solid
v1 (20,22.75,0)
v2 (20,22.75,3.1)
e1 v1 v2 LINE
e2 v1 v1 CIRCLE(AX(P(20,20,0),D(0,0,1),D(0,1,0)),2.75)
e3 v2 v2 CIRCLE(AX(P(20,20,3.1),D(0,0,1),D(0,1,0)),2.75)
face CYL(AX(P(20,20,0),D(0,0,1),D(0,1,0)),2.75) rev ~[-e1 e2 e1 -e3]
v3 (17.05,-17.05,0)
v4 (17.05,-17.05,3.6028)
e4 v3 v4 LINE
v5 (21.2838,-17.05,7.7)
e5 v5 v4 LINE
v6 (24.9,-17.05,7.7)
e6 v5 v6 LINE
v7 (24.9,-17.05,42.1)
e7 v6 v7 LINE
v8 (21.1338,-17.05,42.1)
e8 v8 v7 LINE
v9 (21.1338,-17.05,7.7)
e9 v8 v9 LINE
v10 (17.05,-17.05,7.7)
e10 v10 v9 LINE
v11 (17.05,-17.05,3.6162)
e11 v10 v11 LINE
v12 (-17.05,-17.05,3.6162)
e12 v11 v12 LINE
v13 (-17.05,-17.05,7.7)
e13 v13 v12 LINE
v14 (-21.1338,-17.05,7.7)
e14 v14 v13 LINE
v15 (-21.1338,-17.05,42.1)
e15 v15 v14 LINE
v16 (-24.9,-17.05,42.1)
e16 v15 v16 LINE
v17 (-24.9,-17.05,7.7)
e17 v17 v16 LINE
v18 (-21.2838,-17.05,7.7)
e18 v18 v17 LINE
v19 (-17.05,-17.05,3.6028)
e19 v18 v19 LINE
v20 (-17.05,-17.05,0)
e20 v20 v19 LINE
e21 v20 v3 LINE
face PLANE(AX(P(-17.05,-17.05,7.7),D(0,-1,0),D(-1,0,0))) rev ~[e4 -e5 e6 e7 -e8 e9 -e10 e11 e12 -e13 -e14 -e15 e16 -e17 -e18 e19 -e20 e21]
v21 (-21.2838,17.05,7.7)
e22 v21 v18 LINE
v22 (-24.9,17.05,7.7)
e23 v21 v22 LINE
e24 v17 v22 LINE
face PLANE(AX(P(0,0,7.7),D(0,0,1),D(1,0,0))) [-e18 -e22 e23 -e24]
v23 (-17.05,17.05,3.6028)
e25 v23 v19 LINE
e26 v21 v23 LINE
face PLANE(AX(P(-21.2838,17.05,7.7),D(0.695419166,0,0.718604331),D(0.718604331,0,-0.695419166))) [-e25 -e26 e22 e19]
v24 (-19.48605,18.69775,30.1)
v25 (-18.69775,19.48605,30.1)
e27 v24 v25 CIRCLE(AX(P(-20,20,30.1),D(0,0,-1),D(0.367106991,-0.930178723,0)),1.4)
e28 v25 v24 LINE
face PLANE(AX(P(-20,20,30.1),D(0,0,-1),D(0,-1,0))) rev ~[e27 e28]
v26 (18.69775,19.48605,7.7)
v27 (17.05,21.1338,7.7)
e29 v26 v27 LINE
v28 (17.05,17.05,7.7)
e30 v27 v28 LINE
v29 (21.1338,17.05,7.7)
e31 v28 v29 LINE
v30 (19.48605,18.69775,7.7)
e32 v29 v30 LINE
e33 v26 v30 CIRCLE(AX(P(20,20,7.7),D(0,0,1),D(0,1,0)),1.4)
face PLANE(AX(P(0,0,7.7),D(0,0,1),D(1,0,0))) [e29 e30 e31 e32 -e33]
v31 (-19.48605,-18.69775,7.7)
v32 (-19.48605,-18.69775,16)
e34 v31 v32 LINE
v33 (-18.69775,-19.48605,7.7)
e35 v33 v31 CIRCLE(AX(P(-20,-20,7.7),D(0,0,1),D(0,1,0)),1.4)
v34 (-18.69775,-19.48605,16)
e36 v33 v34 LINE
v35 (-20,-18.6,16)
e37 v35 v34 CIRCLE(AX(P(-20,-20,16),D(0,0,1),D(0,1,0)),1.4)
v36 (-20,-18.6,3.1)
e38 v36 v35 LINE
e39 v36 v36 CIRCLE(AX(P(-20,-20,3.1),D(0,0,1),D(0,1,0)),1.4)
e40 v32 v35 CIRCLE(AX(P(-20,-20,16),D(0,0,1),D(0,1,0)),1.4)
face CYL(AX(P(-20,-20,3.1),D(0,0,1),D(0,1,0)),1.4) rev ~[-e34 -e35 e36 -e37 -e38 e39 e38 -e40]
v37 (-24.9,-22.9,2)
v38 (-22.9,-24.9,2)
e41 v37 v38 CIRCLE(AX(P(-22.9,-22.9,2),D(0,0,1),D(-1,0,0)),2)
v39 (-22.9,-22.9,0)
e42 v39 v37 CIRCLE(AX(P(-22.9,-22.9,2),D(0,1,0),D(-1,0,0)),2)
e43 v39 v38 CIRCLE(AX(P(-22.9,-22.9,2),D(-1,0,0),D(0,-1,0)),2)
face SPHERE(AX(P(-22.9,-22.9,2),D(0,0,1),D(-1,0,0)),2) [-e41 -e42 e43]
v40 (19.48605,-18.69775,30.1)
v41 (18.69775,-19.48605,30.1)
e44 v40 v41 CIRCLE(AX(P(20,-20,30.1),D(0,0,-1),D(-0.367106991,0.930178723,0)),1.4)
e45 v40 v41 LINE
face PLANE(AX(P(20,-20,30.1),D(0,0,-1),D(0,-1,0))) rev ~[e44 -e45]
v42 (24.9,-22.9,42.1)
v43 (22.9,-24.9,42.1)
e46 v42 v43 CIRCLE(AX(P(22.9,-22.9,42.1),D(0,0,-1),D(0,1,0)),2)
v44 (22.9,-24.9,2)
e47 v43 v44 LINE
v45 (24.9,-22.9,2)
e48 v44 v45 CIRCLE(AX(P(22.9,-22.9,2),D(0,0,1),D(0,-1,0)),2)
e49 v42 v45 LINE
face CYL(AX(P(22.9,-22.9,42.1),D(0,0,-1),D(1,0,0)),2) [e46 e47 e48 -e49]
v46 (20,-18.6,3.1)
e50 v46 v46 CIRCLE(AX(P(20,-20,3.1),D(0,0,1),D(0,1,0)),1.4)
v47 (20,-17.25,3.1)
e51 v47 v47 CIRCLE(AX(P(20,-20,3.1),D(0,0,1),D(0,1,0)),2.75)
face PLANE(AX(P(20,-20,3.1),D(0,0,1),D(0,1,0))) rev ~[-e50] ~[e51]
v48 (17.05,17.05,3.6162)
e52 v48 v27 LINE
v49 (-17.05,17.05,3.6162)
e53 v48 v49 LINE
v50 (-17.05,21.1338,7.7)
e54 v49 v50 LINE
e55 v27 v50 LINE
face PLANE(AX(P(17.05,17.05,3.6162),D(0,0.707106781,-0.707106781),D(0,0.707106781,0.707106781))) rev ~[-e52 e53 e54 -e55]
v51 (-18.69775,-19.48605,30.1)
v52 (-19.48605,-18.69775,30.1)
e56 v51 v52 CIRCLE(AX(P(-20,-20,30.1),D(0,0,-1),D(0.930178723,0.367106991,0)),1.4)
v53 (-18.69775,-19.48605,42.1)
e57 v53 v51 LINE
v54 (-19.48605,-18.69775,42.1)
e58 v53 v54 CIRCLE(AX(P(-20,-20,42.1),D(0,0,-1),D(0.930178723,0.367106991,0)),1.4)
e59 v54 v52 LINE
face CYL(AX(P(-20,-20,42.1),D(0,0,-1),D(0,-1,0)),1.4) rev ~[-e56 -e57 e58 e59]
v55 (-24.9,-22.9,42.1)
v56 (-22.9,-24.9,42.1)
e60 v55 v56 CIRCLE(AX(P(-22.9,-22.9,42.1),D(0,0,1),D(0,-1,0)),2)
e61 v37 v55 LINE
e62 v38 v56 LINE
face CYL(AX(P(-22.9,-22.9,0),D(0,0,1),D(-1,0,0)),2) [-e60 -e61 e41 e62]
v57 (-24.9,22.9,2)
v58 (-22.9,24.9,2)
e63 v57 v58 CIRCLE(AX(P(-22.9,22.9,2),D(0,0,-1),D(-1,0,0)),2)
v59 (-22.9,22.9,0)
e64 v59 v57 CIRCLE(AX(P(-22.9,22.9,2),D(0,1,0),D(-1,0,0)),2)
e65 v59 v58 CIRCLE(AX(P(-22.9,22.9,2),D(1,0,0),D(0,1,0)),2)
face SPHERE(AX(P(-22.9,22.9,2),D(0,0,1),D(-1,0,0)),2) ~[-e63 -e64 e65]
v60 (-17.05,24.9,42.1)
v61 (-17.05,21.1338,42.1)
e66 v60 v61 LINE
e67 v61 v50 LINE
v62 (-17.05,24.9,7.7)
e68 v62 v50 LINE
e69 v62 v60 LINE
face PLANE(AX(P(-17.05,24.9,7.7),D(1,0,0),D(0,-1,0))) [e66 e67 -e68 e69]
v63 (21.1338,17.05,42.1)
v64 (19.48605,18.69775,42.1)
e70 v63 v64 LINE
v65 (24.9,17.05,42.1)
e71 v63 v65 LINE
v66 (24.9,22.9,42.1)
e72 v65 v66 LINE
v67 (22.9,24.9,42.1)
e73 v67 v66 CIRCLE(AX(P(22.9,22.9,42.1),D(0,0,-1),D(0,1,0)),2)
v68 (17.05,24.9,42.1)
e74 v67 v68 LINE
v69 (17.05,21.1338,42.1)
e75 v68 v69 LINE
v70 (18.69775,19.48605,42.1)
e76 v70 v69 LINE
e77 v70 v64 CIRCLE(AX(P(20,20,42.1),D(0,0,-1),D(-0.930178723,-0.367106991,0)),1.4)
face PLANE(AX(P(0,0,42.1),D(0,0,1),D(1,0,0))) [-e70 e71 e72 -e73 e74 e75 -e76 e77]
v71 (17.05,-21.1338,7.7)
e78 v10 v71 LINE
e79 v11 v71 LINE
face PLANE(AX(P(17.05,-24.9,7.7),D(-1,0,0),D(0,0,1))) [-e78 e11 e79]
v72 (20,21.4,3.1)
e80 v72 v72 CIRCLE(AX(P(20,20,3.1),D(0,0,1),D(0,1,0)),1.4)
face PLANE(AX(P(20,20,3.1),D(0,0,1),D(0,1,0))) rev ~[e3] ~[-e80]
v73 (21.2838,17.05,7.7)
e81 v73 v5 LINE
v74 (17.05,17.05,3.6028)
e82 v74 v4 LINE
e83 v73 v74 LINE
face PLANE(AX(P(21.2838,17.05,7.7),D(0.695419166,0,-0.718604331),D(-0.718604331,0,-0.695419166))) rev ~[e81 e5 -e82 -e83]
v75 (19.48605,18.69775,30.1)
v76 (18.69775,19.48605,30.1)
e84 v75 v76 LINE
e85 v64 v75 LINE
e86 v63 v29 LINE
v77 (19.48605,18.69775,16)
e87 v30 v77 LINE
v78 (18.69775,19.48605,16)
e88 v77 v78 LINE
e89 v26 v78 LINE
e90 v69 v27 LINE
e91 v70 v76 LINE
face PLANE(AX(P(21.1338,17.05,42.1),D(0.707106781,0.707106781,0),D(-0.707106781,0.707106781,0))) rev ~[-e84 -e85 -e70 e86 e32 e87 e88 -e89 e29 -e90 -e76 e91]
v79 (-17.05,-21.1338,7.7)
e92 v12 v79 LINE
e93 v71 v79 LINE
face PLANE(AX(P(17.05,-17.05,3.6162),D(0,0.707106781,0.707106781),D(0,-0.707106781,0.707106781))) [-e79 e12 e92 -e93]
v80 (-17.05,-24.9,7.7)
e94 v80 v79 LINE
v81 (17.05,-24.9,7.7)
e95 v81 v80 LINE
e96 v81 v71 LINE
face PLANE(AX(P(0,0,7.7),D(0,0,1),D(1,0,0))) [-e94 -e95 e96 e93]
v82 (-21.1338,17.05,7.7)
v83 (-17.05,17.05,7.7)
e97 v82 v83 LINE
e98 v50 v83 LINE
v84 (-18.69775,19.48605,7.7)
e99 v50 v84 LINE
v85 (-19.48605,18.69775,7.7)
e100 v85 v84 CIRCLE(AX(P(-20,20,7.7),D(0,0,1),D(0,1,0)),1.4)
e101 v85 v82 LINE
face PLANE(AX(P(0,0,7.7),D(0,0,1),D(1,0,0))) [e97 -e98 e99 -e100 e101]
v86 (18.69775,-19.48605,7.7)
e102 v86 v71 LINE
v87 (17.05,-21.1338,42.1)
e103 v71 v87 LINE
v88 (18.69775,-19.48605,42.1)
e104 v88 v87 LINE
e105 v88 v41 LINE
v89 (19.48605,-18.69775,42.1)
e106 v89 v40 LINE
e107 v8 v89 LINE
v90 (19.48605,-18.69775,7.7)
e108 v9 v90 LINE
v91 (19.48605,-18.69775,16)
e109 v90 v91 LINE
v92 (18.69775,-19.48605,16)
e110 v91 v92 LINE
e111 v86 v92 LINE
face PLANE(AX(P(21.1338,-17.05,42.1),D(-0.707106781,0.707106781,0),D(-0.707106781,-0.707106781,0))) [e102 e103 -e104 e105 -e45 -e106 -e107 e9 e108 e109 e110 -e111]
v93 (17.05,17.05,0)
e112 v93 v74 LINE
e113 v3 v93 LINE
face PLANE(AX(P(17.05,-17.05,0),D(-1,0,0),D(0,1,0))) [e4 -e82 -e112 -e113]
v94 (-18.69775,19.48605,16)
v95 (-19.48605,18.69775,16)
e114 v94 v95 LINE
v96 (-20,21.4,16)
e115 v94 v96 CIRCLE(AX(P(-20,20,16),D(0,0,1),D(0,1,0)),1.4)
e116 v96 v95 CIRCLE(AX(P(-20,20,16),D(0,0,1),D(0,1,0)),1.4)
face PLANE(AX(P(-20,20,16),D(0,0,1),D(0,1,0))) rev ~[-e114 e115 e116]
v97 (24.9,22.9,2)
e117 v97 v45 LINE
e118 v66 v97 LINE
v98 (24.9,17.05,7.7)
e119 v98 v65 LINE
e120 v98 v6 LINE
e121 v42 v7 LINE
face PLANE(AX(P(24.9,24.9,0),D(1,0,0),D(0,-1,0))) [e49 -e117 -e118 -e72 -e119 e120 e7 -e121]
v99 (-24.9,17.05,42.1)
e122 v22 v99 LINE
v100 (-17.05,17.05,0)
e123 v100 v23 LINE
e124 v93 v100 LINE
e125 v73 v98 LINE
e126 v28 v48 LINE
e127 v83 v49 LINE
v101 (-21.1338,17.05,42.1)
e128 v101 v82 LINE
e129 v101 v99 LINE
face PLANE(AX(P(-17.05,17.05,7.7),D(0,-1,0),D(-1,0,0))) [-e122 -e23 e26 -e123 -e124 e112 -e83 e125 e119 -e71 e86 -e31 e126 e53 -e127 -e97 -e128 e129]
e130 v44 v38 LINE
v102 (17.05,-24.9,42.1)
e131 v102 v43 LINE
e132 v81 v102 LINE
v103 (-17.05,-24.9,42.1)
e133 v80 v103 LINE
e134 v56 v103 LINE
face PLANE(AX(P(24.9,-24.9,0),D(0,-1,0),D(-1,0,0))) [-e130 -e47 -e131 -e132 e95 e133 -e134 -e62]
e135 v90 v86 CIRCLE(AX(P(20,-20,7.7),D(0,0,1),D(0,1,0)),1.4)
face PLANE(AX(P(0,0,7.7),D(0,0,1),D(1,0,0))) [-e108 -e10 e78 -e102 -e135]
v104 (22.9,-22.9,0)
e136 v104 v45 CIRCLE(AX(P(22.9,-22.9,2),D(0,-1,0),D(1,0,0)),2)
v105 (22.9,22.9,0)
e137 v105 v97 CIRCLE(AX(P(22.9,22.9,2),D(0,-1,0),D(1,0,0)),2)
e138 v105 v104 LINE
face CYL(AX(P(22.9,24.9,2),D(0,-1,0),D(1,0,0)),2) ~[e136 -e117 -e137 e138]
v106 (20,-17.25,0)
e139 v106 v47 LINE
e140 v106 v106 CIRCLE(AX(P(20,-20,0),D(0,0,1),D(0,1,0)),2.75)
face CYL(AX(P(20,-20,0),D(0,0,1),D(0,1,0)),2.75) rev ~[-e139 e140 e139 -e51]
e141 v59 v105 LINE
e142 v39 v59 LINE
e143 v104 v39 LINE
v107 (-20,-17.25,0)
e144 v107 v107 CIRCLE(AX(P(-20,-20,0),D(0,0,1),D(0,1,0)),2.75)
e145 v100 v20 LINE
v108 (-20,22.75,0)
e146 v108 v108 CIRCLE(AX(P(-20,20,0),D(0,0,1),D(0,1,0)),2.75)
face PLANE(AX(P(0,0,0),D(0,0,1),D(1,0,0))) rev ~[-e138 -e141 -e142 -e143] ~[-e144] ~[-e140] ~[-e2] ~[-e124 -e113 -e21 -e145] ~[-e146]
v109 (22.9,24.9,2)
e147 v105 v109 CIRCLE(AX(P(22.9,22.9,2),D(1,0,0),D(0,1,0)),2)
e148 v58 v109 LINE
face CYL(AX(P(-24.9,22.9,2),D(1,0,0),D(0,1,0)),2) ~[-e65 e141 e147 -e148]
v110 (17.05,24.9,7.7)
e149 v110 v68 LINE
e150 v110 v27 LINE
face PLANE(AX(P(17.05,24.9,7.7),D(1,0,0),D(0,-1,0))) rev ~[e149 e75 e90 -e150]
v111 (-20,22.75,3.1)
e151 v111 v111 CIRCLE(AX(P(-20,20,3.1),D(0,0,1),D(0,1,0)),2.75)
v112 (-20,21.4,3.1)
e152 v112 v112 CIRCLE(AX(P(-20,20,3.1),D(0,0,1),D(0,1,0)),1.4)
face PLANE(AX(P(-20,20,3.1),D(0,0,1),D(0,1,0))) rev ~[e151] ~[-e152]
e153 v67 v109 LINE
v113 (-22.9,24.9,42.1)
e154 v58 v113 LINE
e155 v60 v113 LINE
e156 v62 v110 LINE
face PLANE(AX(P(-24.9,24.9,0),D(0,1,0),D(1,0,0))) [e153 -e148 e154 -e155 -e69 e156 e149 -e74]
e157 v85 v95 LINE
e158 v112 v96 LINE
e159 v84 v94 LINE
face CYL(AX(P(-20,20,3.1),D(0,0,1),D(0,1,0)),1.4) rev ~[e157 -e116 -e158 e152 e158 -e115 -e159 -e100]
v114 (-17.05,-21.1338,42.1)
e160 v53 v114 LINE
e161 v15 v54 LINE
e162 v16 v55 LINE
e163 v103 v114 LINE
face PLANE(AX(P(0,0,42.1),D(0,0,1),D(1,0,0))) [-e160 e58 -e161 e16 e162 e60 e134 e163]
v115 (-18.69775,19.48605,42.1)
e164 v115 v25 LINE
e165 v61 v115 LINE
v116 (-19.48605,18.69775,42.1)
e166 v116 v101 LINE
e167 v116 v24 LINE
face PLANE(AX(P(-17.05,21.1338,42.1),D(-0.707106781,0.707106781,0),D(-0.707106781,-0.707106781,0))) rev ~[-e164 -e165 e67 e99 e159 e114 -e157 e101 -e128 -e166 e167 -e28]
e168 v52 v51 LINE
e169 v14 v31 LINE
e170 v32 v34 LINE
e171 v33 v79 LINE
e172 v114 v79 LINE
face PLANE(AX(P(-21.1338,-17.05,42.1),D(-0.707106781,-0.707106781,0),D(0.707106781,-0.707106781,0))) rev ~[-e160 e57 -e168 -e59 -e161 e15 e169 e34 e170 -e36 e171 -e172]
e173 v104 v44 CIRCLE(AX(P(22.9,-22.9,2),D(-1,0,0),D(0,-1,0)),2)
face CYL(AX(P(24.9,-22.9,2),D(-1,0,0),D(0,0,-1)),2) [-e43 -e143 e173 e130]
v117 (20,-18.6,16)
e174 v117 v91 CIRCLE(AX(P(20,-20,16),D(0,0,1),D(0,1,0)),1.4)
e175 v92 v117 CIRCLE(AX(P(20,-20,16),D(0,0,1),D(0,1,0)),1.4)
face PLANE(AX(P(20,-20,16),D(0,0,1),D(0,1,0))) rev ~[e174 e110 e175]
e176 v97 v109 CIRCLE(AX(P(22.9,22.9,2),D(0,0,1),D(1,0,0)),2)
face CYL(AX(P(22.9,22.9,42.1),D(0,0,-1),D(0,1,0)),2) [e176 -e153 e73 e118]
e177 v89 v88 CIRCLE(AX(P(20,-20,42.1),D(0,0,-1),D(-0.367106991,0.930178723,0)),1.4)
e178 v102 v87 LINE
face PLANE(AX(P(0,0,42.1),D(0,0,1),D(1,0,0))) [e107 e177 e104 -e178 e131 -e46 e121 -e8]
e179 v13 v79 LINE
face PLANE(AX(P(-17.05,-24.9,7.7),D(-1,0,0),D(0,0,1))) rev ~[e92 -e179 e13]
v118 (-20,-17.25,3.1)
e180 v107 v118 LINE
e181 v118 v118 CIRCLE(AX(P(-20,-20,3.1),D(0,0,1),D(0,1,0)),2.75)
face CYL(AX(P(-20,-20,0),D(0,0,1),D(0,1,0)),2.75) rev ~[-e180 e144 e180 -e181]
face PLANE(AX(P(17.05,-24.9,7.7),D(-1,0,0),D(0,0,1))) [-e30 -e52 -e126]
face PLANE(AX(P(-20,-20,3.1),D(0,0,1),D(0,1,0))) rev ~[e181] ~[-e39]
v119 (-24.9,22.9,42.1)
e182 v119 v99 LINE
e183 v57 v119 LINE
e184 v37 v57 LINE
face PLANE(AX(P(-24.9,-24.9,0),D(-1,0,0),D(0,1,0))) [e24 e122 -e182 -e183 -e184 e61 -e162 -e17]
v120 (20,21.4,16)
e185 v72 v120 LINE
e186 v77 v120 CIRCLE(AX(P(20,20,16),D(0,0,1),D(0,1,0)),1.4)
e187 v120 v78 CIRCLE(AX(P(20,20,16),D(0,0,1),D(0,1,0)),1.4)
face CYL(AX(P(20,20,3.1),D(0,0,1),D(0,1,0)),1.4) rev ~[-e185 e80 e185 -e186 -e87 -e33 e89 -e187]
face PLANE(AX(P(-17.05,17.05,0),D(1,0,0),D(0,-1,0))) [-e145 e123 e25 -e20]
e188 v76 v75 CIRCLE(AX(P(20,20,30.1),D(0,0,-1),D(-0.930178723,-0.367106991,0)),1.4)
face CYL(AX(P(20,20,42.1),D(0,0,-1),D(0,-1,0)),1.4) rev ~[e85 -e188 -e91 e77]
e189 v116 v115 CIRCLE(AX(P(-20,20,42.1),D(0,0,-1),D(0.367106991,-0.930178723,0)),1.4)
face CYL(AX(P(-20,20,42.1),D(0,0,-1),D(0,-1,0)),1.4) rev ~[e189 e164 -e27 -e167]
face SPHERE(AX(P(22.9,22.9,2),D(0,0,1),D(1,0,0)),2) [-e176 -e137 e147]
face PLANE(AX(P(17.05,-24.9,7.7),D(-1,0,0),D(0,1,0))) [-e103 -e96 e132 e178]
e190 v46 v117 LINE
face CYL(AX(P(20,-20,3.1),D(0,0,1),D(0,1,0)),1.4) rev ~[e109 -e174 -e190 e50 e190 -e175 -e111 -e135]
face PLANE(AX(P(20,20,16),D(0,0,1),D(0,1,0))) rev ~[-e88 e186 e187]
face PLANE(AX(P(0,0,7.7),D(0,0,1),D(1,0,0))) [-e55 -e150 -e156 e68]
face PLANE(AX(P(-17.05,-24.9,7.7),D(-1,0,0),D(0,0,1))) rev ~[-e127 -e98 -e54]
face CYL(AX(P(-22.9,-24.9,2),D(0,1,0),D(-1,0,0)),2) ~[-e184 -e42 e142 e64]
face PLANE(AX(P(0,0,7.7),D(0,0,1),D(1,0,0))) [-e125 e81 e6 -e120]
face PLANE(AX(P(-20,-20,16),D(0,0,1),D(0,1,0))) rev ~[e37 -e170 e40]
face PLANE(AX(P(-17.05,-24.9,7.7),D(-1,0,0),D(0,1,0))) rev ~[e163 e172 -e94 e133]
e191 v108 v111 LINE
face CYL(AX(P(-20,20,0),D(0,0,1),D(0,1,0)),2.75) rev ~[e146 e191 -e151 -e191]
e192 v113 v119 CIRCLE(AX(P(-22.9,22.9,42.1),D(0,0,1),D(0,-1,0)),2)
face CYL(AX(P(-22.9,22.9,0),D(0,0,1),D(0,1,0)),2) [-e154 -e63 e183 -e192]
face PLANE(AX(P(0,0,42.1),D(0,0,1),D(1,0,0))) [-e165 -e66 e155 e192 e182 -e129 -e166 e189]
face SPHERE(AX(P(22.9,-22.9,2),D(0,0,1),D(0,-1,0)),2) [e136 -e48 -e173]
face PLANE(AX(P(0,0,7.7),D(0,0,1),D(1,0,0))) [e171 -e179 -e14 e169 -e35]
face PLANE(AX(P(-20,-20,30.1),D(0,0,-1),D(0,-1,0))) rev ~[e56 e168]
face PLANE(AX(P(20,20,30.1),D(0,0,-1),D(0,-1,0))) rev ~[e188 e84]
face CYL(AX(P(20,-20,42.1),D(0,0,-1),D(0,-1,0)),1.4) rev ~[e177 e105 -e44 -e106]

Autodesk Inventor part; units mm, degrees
ref_plane "YZ Plane" through (0, 0, 0) normal (1, 0, 0) x (0, 1, 0)
ref_plane "XZ Plane" through (0, 0, 0) normal (0, 1, 0) x (-1, 0, 0)
ref_plane "XY Plane" through (0, 0, 0) normal (0, 0, 1) x (1, 0, 0)
sketch "Sketch1" plane through (0, 0, 0) normal (0, 0, 1) x (1, 0, 0)
  line L0 (-24.9, 24.9) -> (24.9, 24.9)
  line L1 (24.9, 24.9) -> (24.9, -24.9)
  line L2 (24.9, -24.9) -> (-24.9, -24.9)
  line L3 (-24.9, -24.9) -> (-24.9, 24.9)
  line L4 (-24.9, 24.9) -> (24.9, -24.9) construction
  line L5 (24.9, 24.9) -> (-24.9, -24.9) construction
  line L6 (17.05, 17.05) -> (-17.05, 17.05)
  line L7 (-17.05, 17.05) -> (-17.05, -17.05)
  line L8 (-17.05, -17.05) -> (17.05, -17.05)
  line L9 (17.05, -17.05) -> (17.05, 17.05)
  point P0 (0, 0)
  dimension "d0" = 49.8
  dimension "d1" = 49.8
  dimension "d2" = 7.85
extrude "Extrusion1" add sketch "Sketch1" along normal blind 7.7
sketch "Sketch2" plane through (0, 0, 7.7) normal (0, 0, 1) x (1, 0, 0)
  line L0 (17.05, 17.05) -> (17.05, -17.05) projected
  line L1 (17.05, -17.05) -> (-17.05, -17.05) projected
  line L2 (-17.05, -17.05) -> (-17.05, 17.05) projected
  line L3 (-17.05, 17.05) -> (17.05, 17.05) projected
  line L4 (24.9, 24.9) -> (-24.9, 24.9) projected
  line L5 (-24.9, 24.9) -> (-24.9, -24.9) projected
  line L6 (-24.9, -24.9) -> (24.9, -24.9) projected
  line L7 (24.9, -24.9) -> (24.9, 24.9) projected
  line L8 (17.05, -17.05) -> (24.9, -17.05)
  line L9 (24.9, -17.05) -> (24.9, -24.9)
  line L10 (24.9, -24.9) -> (17.05, -24.9)
  line L11 (17.05, -24.9) -> (17.05, -17.05)
  line L12 (17.05, 17.05) -> (-17.05, 17.05) projected
  line L13 (24.9, 24.9) -> (17.05, 24.9)
  line L14 (17.05, 24.9) -> (17.05, 17.05)
  line L15 (17.05, 17.05) -> (24.9, 17.05)
  line L16 (24.9, 17.05) -> (24.9, 24.9)
  line L17 (-24.9, -24.9) -> (-17.05, -24.9)
  line L18 (-17.05, -24.9) -> (-17.05, -17.05)
  line L19 (-17.05, -17.05) -> (-24.9, -17.05)
  line L20 (-24.9, -17.05) -> (-24.9, -24.9)
  line L21 (-24.9, 24.9) -> (-17.05, 24.9)
  line L22 (-17.05, 24.9) -> (-17.05, 17.05)
  line L23 (-17.05, 17.05) -> (-24.9, 17.05)
  line L24 (-24.9, 17.05) -> (-24.9, 24.9)
  point P0 (0, 0)
extrude "Extrusion2" add sketch "Sketch2" along normal blind 34.4 contours L14 L4 L7 L15 | L8 L7 L6 L11 | L23 L5 L4 L22 | L18 L6 L5 L19
sketch "Sketch3" plane through (0, 0, 0) normal (0, 0, -1) x (-1, 0, 0)
  line L0 (24.9, -24.9) -> (24.9, 24.9) construction
  line L1 (24.9, 24.9) -> (-24.9, 24.9) construction
  line L2 (-24.9, -24.9) -> (24.9, -24.9) construction
  line L3 (-24.9, 24.9) -> (-24.9, -24.9) construction
  point P0 (20, 20)
  point P1 (20, -20)
  point P2 (-20, -20)
  point P3 (-20, 20)
  dimension "d_1" = 4.9
  dimension "d96" = 4.9
  dimension "d97" = 4.9
  dimension "d98" = 4.9
  dimension "d99" = 4.9
  dimension "d100" = 4.9
  dimension "d101" = 4.9
  dimension "d102" = 4.9
hole "Hole1" at (-20, 20, 0) at (-20, -20, 0) at (20, -20, 0) at (20, 20, 0) direction (0, 0, 1) diameter 2.8 depth 16 counterbore diameter 5.5 counterbore depth 3.1
fillet "Fillet1" radius 2 8 edges at (24.9, 24.9, 21.05) (24.9, -24.9, 21.05) (-24.9, -24.9, 21.05) (-24.9, 24.9, 21.05) (-24.9, 0, 0) (0, -24.9, 0) (24.9, 0, 0) (0, 24.9, 0)
sketch "Sketch6" plane through (0, 0, 42.1) normal (0, 0, 1) x (1, 0, 0)
  arc A0 (-22.9, 24.9) -> (-24.9, 22.9) centre (-22.9, 22.9) ccw projected
  line L0 (-24.9, 22.9) -> (-24.9, 17.05) projected
  line L1 (-24.9, 17.05) -> (-17.05, 17.05) projected
  line L2 (-17.05, 17.05) -> (-17.05, 24.9) projected
  line L3 (-17.05, 24.9) -> (-22.9, 24.9) projected
  arc A1 (24.9, 22.9) -> (22.9, 24.9) centre (22.9, 22.9) ccw projected
  line L4 (22.9, 24.9) -> (17.05, 24.9) projected
  line L5 (17.05, 24.9) -> (17.05, 17.05) projected
  line L6 (17.05, 17.05) -> (24.9, 17.05) projected
  line L7 (24.9, 17.05) -> (24.9, 22.9) projected
  arc A2 (22.9, -24.9) -> (24.9, -22.9) centre (22.9, -22.9) ccw projected
  line L8 (24.9, -22.9) -> (24.9, -17.05) projected
  line L9 (24.9, -17.05) -> (17.05, -17.05) projected
  line L10 (17.05, -17.05) -> (17.05, -24.9) projected
  line L11 (17.05, -24.9) -> (22.9, -24.9) projected
  arc A3 (-24.9, -22.9) -> (-22.9, -24.9) centre (-22.9, -22.9) ccw projected
  line L12 (-22.9, -24.9) -> (-17.05, -24.9) projected
  line L13 (-17.05, -24.9) -> (-17.05, -17.05) projected
  line L14 (-17.05, -17.05) -> (-24.9, -17.05) projected
  line L15 (-24.9, -17.05) -> (-24.9, -22.9) projected
  line L16 (0, 38.1838) -> (54, 38.1838) construction
  line L17 (21.1338, 17.05) -> (17.05, 21.1338)
  line L18 (17.05, 24.9) -> (17.05, 17.05) projected
  line L19 (17.05, 21.1338) -> (17.05, 17.05)
  line L20 (17.05, 17.05) -> (21.1338, 17.05)
  line L21 (-17.05, 24.9) -> (-17.05, 17.05) projected
  line L22 (-17.05, 17.05) -> (-17.05, 21.1338)
  line L23 (-17.05, 21.1338) -> (-21.1338, 17.05)
  line L24 (-17.05, 21.1338) -> (-11.2747, 21.1338) construction
  line L25 (-17.05, -17.05) -> (-17.05, 17.05) projected
  line L26 (-21.1338, 17.05) -> (-17.05, 17.05)
  line L27 (-17.05, 17.05) -> (-21.1338, 17.05)
  line L28 (17.05, -17.05) -> (17.05, -24.9) projected
  line L29 (17.05, -17.05) -> (21.1338, -17.05)
  line L30 (24.9, -17.05) -> (17.05, -17.05) projected
  line L31 (21.1338, -17.05) -> (17.05, -21.1338)
  line L32 (17.05, -17.05) -> (17.05, -21.1338)
  line L33 (-17.05, -17.05) -> (-21.1338, -17.05)
  line L34 (-17.05, -17.05) -> (-17.05, -24.9) projected
  line L35 (-17.05, -17.05) -> (-17.05, -21.1338)
  line L36 (-21.1338, -17.05) -> (-17.05, -21.1338)
  line L37 (22.9, 22.9) -> (24.9, 22.9) construction
  line L38 (-22.9, -22.9) -> (22.9, 22.9) construction
  line L39 (-22.9, -22.9) -> (22.9, -22.9) construction
  line L40 (22.9, 22.9) -> (-22.9, 22.9) construction
  line L41 (22.9, -22.9) -> (-22.9, 22.9) construction
  dimension "d111" = 0
  dimension "d120" = 54
  dimension "d121" = 54
extrude "Extrusion3" cut sketch "Sketch6" against normal up to surface (34.4 mm away) contours L13 L36 L14 | L2 L1 L23 | L6 L5 L17 | L10 L9 L31
sketch "Sketch7" plane through (-24.9, 17.05, 7.7) normal (0, -1, 0) x (1, 0, 0)
  line L0 (41.95, 0) -> (49.95, 0) construction
  line L1 (41.95, -7.7) -> (41.95, 0) construction
  line L2 (7.85, -7.7) -> (7.85, 0) construction
  line L3 (-0.15, 0) -> (7.85, 0) construction
  line L4 (41.9235, 33.7204) -> (41.95, 0) construction
  line L5 (7.85, 0) -> (7.8764, 33.5861) construction
  line L6 (41.95, 0) -> (7.85, 0) construction
  circle A0 centre (24.9, 17.0366) radius 17.0366 construction
  line L7 (24.9, 55.2203) -> (-13.2838, 17.0366) construction
  line L8 (-13.2838, 17.0366) -> (24.9, -21.1472) construction
  line L9 (24.9, -21.1472) -> (63.0838, 17.0366) construction
  line L10 (63.0838, 17.0366) -> (24.9, 55.2203) construction
  line L11 (24.9, 55.2203) -> (24.9, -21.1472) construction
  line L12 (-13.2838, 17.0366) -> (63.0838, 17.0366) construction
  line L13 (24.9, 55.2203) -> (78.9, 55.2203) construction
  line L14 (46.1838, 0) -> (41.95, 0)
  line L15 (46.1838, 0) -> (41.95, -4.0972)
  line L16 (41.95, 0) -> (41.9235, 33.7204)
  line L17 (41.95, 0) -> (41.95, -4.0972)
  line L18 (46.1838, 0) -> (41.95, 0)
  line L19 (41.95, 0) -> (46.1838, 0)
  line L20 (7.85, 0) -> (3.6162, 0)
  line L21 (3.6162, 0) -> (7.85, -4.0972)
  line L22 (7.85, -4.0972) -> (7.85, 0)
  line L23 (24.9, -36.4773) -> (24.9, 70.8333) projected
  point P0 (44.386, 0)
  point P1 (43.5978, 0)
  point P2 (24.9, 17.0366)
  dimension "d37" = 54
  dimension "d38" = 135
  dimension "d39" = 54
extrude "Extrusion4" cut sketch "Sketch7" along normal up to surface (34.1 mm away)
sketch "Sketch8" plane through (17.05, -24.9, 7.7) normal (-1, 0, 0) x (0, 0, 1)
  line L0 (-4.0838, 41.95) -> (0, 41.95) construction
  line L1 (-4.0838, 7.85) -> (0.1503, 7.85) construction
  line L2 (0.1503, 7.85) -> (0.1503, 3.6159) construction
  line L3 (-4.0838, 7.85) -> (0.1503, 3.6159)
  line L4 (0.1503, 3.6159) -> (0.1503, 7.85)
  line L5 (0.1503, 7.85) -> (-4.0838, 7.85)
  line L6 (-4.0838, 41.95) -> (0, 46.0338)
  line L7 (-4.0838, 41.95) -> (1.6916, 41.95) construction
  line L8 (0.1503, 7.85) -> (0, 41.95)
  line L9 (0, 46.0338) -> (0, 41.95)
  line L10 (0, 41.95) -> (-4.0838, 41.95)
  line L11 (-6, 2) -> (-6, 47.8)
  line L12 (55.2338, 24.9) -> (17.05, 63.0838) construction
  line L13 (17.05, 63.0838) -> (-21.1338, 24.9) construction
  line L14 (-21.1338, 24.9) -> (17.05, -13.2838) construction
  line L15 (17.05, -13.2838) -> (55.2338, 24.9) construction
  line L16 (55.2338, 24.9) -> (-21.1338, 24.9) construction
  line L17 (17.05, 63.0838) -> (17.05, -13.2838) construction
  line L18 (-36.2573, 24.9) -> (70.6573, 24.9) construction
  line L19 (17.05, -28.5573) -> (17.05, 78.3573) construction
  line L20 (0, 41.95) -> (0, 43.5978) construction
  line L21 (0, 7.85) -> (-4.0972, 7.85) construction
  line L22 (-4.0972, 41.95) -> (-4.0972, 7.85) construction
  line L23 (0, 41.95) -> (-4.0972, 41.95) construction
  line L24 (0, 7.85) -> (0, 41.95) construction
  point P0 (-2.4341, 8)
  point P1 (0, 5.414)
  point P2 (17.05, 24.9)
  point P3 (17.05, 24.9)
  point P4 (17.05, 24.9)
  dimension "d122" = 54
  dimension "d123" = 54
extrude "Extrusion5" cut sketch "Sketch8" along normal up to surface (34.1 mm away)
sketch "Sketch9" plane through (0, 0, 42.1) normal (0, 0, 1) x (1, 0, 0)
  arc A0 (19.486, 18.6978) -> (18.6978, 19.486) centre (20, 20) ccw projected
  arc A1 (18.6978, -19.486) -> (19.486, -18.6978) centre (20, -20) ccw projected
  arc A2 (-19.486, -18.6978) -> (-18.6978, -19.486) centre (-20, -20) ccw projected
  arc A3 (-18.6978, 19.486) -> (-19.486, 18.6978) centre (-20, 20) ccw projected
hole "Hole2" at (20, 20, 42.1) at (-20, 20, 42.1) at (20, -20, 42.1) at (-20, -20, 42.1) direction (0, 0, -1) diameter 2.8 depth 12
sketch "Sketch15" plane through (0, 0, 0) normal (0, 0, -1) x (-1, 0, 0)
  line L0 (-17.05, -17.05) -> (-17.05, 17.05) construction
  line L1 (-17.05, 17.05) -> (17.05, 17.05) construction
  line L2 (17.05, 17.05) -> (17.05, -17.05) construction
  line L3 (17.05, -17.05) -> (-17.05, -17.05) construction
  circle A0 centre (-20, 20) radius 2.75 construction
  circle A1 centre (20, -20) radius 2.75 construction
  circle A2 centre (20, 20) radius 2.75 construction
  circle A3 centre (-20, -20) radius 2.75 construction
  line L4 (-22.9, 22.9) -> (22.9, 22.9) construction
  line L5 (-22.9, -22.9) -> (-22.9, 22.9) construction
  line L6 (22.9, -22.9) -> (-22.9, -22.9) construction
  line L7 (22.9, 22.9) -> (22.9, -22.9) construction
  line L8 (17.05, 21.1338) -> (-17.05, 21.1338) construction
  point P0 (0, 0)
  point P1 (-20.8, -14.5)
  point P2 (-14.5, -20.8)
  point P3 (14.5, -20.8)
  point P4 (20.8, -14.5)
  point P5 (20.8, 14.5)
  point P6 (14.5, 20.8)
  point P7 (-14.5, 20.8)
  point P8 (-20.8, 14.5)
hole "Hole8" [suppressed]
ref_plane "Arbeitsebene2" through (24.9, 0, 0) normal (-0.7071, 0, -0.7071) x (0, 1, 0)
ref_plane "Arbeitsebene3" through (0, -17.05, 7.7) normal (1, 0, 0) x (0, 0, -1)
ref_plane "Work Plane4" through (-17.05, 0, 7.7) normal (0, 1, 0) x (1, 0, 0)
equation "\"d1\" = d0"
equation "\"d96\" = d_1"
equation "\"d97\" = d_1"
equation "\"d98\" = d_1"
equation "\"d99\" = d_1"
equation "\"d100\" = d_1"
equation "\"d101\" = d_1"
equation "\"d102\" = d_1"
equation "\"d121\" = d120"
properties part number "10_Cube_1x1_v3"
